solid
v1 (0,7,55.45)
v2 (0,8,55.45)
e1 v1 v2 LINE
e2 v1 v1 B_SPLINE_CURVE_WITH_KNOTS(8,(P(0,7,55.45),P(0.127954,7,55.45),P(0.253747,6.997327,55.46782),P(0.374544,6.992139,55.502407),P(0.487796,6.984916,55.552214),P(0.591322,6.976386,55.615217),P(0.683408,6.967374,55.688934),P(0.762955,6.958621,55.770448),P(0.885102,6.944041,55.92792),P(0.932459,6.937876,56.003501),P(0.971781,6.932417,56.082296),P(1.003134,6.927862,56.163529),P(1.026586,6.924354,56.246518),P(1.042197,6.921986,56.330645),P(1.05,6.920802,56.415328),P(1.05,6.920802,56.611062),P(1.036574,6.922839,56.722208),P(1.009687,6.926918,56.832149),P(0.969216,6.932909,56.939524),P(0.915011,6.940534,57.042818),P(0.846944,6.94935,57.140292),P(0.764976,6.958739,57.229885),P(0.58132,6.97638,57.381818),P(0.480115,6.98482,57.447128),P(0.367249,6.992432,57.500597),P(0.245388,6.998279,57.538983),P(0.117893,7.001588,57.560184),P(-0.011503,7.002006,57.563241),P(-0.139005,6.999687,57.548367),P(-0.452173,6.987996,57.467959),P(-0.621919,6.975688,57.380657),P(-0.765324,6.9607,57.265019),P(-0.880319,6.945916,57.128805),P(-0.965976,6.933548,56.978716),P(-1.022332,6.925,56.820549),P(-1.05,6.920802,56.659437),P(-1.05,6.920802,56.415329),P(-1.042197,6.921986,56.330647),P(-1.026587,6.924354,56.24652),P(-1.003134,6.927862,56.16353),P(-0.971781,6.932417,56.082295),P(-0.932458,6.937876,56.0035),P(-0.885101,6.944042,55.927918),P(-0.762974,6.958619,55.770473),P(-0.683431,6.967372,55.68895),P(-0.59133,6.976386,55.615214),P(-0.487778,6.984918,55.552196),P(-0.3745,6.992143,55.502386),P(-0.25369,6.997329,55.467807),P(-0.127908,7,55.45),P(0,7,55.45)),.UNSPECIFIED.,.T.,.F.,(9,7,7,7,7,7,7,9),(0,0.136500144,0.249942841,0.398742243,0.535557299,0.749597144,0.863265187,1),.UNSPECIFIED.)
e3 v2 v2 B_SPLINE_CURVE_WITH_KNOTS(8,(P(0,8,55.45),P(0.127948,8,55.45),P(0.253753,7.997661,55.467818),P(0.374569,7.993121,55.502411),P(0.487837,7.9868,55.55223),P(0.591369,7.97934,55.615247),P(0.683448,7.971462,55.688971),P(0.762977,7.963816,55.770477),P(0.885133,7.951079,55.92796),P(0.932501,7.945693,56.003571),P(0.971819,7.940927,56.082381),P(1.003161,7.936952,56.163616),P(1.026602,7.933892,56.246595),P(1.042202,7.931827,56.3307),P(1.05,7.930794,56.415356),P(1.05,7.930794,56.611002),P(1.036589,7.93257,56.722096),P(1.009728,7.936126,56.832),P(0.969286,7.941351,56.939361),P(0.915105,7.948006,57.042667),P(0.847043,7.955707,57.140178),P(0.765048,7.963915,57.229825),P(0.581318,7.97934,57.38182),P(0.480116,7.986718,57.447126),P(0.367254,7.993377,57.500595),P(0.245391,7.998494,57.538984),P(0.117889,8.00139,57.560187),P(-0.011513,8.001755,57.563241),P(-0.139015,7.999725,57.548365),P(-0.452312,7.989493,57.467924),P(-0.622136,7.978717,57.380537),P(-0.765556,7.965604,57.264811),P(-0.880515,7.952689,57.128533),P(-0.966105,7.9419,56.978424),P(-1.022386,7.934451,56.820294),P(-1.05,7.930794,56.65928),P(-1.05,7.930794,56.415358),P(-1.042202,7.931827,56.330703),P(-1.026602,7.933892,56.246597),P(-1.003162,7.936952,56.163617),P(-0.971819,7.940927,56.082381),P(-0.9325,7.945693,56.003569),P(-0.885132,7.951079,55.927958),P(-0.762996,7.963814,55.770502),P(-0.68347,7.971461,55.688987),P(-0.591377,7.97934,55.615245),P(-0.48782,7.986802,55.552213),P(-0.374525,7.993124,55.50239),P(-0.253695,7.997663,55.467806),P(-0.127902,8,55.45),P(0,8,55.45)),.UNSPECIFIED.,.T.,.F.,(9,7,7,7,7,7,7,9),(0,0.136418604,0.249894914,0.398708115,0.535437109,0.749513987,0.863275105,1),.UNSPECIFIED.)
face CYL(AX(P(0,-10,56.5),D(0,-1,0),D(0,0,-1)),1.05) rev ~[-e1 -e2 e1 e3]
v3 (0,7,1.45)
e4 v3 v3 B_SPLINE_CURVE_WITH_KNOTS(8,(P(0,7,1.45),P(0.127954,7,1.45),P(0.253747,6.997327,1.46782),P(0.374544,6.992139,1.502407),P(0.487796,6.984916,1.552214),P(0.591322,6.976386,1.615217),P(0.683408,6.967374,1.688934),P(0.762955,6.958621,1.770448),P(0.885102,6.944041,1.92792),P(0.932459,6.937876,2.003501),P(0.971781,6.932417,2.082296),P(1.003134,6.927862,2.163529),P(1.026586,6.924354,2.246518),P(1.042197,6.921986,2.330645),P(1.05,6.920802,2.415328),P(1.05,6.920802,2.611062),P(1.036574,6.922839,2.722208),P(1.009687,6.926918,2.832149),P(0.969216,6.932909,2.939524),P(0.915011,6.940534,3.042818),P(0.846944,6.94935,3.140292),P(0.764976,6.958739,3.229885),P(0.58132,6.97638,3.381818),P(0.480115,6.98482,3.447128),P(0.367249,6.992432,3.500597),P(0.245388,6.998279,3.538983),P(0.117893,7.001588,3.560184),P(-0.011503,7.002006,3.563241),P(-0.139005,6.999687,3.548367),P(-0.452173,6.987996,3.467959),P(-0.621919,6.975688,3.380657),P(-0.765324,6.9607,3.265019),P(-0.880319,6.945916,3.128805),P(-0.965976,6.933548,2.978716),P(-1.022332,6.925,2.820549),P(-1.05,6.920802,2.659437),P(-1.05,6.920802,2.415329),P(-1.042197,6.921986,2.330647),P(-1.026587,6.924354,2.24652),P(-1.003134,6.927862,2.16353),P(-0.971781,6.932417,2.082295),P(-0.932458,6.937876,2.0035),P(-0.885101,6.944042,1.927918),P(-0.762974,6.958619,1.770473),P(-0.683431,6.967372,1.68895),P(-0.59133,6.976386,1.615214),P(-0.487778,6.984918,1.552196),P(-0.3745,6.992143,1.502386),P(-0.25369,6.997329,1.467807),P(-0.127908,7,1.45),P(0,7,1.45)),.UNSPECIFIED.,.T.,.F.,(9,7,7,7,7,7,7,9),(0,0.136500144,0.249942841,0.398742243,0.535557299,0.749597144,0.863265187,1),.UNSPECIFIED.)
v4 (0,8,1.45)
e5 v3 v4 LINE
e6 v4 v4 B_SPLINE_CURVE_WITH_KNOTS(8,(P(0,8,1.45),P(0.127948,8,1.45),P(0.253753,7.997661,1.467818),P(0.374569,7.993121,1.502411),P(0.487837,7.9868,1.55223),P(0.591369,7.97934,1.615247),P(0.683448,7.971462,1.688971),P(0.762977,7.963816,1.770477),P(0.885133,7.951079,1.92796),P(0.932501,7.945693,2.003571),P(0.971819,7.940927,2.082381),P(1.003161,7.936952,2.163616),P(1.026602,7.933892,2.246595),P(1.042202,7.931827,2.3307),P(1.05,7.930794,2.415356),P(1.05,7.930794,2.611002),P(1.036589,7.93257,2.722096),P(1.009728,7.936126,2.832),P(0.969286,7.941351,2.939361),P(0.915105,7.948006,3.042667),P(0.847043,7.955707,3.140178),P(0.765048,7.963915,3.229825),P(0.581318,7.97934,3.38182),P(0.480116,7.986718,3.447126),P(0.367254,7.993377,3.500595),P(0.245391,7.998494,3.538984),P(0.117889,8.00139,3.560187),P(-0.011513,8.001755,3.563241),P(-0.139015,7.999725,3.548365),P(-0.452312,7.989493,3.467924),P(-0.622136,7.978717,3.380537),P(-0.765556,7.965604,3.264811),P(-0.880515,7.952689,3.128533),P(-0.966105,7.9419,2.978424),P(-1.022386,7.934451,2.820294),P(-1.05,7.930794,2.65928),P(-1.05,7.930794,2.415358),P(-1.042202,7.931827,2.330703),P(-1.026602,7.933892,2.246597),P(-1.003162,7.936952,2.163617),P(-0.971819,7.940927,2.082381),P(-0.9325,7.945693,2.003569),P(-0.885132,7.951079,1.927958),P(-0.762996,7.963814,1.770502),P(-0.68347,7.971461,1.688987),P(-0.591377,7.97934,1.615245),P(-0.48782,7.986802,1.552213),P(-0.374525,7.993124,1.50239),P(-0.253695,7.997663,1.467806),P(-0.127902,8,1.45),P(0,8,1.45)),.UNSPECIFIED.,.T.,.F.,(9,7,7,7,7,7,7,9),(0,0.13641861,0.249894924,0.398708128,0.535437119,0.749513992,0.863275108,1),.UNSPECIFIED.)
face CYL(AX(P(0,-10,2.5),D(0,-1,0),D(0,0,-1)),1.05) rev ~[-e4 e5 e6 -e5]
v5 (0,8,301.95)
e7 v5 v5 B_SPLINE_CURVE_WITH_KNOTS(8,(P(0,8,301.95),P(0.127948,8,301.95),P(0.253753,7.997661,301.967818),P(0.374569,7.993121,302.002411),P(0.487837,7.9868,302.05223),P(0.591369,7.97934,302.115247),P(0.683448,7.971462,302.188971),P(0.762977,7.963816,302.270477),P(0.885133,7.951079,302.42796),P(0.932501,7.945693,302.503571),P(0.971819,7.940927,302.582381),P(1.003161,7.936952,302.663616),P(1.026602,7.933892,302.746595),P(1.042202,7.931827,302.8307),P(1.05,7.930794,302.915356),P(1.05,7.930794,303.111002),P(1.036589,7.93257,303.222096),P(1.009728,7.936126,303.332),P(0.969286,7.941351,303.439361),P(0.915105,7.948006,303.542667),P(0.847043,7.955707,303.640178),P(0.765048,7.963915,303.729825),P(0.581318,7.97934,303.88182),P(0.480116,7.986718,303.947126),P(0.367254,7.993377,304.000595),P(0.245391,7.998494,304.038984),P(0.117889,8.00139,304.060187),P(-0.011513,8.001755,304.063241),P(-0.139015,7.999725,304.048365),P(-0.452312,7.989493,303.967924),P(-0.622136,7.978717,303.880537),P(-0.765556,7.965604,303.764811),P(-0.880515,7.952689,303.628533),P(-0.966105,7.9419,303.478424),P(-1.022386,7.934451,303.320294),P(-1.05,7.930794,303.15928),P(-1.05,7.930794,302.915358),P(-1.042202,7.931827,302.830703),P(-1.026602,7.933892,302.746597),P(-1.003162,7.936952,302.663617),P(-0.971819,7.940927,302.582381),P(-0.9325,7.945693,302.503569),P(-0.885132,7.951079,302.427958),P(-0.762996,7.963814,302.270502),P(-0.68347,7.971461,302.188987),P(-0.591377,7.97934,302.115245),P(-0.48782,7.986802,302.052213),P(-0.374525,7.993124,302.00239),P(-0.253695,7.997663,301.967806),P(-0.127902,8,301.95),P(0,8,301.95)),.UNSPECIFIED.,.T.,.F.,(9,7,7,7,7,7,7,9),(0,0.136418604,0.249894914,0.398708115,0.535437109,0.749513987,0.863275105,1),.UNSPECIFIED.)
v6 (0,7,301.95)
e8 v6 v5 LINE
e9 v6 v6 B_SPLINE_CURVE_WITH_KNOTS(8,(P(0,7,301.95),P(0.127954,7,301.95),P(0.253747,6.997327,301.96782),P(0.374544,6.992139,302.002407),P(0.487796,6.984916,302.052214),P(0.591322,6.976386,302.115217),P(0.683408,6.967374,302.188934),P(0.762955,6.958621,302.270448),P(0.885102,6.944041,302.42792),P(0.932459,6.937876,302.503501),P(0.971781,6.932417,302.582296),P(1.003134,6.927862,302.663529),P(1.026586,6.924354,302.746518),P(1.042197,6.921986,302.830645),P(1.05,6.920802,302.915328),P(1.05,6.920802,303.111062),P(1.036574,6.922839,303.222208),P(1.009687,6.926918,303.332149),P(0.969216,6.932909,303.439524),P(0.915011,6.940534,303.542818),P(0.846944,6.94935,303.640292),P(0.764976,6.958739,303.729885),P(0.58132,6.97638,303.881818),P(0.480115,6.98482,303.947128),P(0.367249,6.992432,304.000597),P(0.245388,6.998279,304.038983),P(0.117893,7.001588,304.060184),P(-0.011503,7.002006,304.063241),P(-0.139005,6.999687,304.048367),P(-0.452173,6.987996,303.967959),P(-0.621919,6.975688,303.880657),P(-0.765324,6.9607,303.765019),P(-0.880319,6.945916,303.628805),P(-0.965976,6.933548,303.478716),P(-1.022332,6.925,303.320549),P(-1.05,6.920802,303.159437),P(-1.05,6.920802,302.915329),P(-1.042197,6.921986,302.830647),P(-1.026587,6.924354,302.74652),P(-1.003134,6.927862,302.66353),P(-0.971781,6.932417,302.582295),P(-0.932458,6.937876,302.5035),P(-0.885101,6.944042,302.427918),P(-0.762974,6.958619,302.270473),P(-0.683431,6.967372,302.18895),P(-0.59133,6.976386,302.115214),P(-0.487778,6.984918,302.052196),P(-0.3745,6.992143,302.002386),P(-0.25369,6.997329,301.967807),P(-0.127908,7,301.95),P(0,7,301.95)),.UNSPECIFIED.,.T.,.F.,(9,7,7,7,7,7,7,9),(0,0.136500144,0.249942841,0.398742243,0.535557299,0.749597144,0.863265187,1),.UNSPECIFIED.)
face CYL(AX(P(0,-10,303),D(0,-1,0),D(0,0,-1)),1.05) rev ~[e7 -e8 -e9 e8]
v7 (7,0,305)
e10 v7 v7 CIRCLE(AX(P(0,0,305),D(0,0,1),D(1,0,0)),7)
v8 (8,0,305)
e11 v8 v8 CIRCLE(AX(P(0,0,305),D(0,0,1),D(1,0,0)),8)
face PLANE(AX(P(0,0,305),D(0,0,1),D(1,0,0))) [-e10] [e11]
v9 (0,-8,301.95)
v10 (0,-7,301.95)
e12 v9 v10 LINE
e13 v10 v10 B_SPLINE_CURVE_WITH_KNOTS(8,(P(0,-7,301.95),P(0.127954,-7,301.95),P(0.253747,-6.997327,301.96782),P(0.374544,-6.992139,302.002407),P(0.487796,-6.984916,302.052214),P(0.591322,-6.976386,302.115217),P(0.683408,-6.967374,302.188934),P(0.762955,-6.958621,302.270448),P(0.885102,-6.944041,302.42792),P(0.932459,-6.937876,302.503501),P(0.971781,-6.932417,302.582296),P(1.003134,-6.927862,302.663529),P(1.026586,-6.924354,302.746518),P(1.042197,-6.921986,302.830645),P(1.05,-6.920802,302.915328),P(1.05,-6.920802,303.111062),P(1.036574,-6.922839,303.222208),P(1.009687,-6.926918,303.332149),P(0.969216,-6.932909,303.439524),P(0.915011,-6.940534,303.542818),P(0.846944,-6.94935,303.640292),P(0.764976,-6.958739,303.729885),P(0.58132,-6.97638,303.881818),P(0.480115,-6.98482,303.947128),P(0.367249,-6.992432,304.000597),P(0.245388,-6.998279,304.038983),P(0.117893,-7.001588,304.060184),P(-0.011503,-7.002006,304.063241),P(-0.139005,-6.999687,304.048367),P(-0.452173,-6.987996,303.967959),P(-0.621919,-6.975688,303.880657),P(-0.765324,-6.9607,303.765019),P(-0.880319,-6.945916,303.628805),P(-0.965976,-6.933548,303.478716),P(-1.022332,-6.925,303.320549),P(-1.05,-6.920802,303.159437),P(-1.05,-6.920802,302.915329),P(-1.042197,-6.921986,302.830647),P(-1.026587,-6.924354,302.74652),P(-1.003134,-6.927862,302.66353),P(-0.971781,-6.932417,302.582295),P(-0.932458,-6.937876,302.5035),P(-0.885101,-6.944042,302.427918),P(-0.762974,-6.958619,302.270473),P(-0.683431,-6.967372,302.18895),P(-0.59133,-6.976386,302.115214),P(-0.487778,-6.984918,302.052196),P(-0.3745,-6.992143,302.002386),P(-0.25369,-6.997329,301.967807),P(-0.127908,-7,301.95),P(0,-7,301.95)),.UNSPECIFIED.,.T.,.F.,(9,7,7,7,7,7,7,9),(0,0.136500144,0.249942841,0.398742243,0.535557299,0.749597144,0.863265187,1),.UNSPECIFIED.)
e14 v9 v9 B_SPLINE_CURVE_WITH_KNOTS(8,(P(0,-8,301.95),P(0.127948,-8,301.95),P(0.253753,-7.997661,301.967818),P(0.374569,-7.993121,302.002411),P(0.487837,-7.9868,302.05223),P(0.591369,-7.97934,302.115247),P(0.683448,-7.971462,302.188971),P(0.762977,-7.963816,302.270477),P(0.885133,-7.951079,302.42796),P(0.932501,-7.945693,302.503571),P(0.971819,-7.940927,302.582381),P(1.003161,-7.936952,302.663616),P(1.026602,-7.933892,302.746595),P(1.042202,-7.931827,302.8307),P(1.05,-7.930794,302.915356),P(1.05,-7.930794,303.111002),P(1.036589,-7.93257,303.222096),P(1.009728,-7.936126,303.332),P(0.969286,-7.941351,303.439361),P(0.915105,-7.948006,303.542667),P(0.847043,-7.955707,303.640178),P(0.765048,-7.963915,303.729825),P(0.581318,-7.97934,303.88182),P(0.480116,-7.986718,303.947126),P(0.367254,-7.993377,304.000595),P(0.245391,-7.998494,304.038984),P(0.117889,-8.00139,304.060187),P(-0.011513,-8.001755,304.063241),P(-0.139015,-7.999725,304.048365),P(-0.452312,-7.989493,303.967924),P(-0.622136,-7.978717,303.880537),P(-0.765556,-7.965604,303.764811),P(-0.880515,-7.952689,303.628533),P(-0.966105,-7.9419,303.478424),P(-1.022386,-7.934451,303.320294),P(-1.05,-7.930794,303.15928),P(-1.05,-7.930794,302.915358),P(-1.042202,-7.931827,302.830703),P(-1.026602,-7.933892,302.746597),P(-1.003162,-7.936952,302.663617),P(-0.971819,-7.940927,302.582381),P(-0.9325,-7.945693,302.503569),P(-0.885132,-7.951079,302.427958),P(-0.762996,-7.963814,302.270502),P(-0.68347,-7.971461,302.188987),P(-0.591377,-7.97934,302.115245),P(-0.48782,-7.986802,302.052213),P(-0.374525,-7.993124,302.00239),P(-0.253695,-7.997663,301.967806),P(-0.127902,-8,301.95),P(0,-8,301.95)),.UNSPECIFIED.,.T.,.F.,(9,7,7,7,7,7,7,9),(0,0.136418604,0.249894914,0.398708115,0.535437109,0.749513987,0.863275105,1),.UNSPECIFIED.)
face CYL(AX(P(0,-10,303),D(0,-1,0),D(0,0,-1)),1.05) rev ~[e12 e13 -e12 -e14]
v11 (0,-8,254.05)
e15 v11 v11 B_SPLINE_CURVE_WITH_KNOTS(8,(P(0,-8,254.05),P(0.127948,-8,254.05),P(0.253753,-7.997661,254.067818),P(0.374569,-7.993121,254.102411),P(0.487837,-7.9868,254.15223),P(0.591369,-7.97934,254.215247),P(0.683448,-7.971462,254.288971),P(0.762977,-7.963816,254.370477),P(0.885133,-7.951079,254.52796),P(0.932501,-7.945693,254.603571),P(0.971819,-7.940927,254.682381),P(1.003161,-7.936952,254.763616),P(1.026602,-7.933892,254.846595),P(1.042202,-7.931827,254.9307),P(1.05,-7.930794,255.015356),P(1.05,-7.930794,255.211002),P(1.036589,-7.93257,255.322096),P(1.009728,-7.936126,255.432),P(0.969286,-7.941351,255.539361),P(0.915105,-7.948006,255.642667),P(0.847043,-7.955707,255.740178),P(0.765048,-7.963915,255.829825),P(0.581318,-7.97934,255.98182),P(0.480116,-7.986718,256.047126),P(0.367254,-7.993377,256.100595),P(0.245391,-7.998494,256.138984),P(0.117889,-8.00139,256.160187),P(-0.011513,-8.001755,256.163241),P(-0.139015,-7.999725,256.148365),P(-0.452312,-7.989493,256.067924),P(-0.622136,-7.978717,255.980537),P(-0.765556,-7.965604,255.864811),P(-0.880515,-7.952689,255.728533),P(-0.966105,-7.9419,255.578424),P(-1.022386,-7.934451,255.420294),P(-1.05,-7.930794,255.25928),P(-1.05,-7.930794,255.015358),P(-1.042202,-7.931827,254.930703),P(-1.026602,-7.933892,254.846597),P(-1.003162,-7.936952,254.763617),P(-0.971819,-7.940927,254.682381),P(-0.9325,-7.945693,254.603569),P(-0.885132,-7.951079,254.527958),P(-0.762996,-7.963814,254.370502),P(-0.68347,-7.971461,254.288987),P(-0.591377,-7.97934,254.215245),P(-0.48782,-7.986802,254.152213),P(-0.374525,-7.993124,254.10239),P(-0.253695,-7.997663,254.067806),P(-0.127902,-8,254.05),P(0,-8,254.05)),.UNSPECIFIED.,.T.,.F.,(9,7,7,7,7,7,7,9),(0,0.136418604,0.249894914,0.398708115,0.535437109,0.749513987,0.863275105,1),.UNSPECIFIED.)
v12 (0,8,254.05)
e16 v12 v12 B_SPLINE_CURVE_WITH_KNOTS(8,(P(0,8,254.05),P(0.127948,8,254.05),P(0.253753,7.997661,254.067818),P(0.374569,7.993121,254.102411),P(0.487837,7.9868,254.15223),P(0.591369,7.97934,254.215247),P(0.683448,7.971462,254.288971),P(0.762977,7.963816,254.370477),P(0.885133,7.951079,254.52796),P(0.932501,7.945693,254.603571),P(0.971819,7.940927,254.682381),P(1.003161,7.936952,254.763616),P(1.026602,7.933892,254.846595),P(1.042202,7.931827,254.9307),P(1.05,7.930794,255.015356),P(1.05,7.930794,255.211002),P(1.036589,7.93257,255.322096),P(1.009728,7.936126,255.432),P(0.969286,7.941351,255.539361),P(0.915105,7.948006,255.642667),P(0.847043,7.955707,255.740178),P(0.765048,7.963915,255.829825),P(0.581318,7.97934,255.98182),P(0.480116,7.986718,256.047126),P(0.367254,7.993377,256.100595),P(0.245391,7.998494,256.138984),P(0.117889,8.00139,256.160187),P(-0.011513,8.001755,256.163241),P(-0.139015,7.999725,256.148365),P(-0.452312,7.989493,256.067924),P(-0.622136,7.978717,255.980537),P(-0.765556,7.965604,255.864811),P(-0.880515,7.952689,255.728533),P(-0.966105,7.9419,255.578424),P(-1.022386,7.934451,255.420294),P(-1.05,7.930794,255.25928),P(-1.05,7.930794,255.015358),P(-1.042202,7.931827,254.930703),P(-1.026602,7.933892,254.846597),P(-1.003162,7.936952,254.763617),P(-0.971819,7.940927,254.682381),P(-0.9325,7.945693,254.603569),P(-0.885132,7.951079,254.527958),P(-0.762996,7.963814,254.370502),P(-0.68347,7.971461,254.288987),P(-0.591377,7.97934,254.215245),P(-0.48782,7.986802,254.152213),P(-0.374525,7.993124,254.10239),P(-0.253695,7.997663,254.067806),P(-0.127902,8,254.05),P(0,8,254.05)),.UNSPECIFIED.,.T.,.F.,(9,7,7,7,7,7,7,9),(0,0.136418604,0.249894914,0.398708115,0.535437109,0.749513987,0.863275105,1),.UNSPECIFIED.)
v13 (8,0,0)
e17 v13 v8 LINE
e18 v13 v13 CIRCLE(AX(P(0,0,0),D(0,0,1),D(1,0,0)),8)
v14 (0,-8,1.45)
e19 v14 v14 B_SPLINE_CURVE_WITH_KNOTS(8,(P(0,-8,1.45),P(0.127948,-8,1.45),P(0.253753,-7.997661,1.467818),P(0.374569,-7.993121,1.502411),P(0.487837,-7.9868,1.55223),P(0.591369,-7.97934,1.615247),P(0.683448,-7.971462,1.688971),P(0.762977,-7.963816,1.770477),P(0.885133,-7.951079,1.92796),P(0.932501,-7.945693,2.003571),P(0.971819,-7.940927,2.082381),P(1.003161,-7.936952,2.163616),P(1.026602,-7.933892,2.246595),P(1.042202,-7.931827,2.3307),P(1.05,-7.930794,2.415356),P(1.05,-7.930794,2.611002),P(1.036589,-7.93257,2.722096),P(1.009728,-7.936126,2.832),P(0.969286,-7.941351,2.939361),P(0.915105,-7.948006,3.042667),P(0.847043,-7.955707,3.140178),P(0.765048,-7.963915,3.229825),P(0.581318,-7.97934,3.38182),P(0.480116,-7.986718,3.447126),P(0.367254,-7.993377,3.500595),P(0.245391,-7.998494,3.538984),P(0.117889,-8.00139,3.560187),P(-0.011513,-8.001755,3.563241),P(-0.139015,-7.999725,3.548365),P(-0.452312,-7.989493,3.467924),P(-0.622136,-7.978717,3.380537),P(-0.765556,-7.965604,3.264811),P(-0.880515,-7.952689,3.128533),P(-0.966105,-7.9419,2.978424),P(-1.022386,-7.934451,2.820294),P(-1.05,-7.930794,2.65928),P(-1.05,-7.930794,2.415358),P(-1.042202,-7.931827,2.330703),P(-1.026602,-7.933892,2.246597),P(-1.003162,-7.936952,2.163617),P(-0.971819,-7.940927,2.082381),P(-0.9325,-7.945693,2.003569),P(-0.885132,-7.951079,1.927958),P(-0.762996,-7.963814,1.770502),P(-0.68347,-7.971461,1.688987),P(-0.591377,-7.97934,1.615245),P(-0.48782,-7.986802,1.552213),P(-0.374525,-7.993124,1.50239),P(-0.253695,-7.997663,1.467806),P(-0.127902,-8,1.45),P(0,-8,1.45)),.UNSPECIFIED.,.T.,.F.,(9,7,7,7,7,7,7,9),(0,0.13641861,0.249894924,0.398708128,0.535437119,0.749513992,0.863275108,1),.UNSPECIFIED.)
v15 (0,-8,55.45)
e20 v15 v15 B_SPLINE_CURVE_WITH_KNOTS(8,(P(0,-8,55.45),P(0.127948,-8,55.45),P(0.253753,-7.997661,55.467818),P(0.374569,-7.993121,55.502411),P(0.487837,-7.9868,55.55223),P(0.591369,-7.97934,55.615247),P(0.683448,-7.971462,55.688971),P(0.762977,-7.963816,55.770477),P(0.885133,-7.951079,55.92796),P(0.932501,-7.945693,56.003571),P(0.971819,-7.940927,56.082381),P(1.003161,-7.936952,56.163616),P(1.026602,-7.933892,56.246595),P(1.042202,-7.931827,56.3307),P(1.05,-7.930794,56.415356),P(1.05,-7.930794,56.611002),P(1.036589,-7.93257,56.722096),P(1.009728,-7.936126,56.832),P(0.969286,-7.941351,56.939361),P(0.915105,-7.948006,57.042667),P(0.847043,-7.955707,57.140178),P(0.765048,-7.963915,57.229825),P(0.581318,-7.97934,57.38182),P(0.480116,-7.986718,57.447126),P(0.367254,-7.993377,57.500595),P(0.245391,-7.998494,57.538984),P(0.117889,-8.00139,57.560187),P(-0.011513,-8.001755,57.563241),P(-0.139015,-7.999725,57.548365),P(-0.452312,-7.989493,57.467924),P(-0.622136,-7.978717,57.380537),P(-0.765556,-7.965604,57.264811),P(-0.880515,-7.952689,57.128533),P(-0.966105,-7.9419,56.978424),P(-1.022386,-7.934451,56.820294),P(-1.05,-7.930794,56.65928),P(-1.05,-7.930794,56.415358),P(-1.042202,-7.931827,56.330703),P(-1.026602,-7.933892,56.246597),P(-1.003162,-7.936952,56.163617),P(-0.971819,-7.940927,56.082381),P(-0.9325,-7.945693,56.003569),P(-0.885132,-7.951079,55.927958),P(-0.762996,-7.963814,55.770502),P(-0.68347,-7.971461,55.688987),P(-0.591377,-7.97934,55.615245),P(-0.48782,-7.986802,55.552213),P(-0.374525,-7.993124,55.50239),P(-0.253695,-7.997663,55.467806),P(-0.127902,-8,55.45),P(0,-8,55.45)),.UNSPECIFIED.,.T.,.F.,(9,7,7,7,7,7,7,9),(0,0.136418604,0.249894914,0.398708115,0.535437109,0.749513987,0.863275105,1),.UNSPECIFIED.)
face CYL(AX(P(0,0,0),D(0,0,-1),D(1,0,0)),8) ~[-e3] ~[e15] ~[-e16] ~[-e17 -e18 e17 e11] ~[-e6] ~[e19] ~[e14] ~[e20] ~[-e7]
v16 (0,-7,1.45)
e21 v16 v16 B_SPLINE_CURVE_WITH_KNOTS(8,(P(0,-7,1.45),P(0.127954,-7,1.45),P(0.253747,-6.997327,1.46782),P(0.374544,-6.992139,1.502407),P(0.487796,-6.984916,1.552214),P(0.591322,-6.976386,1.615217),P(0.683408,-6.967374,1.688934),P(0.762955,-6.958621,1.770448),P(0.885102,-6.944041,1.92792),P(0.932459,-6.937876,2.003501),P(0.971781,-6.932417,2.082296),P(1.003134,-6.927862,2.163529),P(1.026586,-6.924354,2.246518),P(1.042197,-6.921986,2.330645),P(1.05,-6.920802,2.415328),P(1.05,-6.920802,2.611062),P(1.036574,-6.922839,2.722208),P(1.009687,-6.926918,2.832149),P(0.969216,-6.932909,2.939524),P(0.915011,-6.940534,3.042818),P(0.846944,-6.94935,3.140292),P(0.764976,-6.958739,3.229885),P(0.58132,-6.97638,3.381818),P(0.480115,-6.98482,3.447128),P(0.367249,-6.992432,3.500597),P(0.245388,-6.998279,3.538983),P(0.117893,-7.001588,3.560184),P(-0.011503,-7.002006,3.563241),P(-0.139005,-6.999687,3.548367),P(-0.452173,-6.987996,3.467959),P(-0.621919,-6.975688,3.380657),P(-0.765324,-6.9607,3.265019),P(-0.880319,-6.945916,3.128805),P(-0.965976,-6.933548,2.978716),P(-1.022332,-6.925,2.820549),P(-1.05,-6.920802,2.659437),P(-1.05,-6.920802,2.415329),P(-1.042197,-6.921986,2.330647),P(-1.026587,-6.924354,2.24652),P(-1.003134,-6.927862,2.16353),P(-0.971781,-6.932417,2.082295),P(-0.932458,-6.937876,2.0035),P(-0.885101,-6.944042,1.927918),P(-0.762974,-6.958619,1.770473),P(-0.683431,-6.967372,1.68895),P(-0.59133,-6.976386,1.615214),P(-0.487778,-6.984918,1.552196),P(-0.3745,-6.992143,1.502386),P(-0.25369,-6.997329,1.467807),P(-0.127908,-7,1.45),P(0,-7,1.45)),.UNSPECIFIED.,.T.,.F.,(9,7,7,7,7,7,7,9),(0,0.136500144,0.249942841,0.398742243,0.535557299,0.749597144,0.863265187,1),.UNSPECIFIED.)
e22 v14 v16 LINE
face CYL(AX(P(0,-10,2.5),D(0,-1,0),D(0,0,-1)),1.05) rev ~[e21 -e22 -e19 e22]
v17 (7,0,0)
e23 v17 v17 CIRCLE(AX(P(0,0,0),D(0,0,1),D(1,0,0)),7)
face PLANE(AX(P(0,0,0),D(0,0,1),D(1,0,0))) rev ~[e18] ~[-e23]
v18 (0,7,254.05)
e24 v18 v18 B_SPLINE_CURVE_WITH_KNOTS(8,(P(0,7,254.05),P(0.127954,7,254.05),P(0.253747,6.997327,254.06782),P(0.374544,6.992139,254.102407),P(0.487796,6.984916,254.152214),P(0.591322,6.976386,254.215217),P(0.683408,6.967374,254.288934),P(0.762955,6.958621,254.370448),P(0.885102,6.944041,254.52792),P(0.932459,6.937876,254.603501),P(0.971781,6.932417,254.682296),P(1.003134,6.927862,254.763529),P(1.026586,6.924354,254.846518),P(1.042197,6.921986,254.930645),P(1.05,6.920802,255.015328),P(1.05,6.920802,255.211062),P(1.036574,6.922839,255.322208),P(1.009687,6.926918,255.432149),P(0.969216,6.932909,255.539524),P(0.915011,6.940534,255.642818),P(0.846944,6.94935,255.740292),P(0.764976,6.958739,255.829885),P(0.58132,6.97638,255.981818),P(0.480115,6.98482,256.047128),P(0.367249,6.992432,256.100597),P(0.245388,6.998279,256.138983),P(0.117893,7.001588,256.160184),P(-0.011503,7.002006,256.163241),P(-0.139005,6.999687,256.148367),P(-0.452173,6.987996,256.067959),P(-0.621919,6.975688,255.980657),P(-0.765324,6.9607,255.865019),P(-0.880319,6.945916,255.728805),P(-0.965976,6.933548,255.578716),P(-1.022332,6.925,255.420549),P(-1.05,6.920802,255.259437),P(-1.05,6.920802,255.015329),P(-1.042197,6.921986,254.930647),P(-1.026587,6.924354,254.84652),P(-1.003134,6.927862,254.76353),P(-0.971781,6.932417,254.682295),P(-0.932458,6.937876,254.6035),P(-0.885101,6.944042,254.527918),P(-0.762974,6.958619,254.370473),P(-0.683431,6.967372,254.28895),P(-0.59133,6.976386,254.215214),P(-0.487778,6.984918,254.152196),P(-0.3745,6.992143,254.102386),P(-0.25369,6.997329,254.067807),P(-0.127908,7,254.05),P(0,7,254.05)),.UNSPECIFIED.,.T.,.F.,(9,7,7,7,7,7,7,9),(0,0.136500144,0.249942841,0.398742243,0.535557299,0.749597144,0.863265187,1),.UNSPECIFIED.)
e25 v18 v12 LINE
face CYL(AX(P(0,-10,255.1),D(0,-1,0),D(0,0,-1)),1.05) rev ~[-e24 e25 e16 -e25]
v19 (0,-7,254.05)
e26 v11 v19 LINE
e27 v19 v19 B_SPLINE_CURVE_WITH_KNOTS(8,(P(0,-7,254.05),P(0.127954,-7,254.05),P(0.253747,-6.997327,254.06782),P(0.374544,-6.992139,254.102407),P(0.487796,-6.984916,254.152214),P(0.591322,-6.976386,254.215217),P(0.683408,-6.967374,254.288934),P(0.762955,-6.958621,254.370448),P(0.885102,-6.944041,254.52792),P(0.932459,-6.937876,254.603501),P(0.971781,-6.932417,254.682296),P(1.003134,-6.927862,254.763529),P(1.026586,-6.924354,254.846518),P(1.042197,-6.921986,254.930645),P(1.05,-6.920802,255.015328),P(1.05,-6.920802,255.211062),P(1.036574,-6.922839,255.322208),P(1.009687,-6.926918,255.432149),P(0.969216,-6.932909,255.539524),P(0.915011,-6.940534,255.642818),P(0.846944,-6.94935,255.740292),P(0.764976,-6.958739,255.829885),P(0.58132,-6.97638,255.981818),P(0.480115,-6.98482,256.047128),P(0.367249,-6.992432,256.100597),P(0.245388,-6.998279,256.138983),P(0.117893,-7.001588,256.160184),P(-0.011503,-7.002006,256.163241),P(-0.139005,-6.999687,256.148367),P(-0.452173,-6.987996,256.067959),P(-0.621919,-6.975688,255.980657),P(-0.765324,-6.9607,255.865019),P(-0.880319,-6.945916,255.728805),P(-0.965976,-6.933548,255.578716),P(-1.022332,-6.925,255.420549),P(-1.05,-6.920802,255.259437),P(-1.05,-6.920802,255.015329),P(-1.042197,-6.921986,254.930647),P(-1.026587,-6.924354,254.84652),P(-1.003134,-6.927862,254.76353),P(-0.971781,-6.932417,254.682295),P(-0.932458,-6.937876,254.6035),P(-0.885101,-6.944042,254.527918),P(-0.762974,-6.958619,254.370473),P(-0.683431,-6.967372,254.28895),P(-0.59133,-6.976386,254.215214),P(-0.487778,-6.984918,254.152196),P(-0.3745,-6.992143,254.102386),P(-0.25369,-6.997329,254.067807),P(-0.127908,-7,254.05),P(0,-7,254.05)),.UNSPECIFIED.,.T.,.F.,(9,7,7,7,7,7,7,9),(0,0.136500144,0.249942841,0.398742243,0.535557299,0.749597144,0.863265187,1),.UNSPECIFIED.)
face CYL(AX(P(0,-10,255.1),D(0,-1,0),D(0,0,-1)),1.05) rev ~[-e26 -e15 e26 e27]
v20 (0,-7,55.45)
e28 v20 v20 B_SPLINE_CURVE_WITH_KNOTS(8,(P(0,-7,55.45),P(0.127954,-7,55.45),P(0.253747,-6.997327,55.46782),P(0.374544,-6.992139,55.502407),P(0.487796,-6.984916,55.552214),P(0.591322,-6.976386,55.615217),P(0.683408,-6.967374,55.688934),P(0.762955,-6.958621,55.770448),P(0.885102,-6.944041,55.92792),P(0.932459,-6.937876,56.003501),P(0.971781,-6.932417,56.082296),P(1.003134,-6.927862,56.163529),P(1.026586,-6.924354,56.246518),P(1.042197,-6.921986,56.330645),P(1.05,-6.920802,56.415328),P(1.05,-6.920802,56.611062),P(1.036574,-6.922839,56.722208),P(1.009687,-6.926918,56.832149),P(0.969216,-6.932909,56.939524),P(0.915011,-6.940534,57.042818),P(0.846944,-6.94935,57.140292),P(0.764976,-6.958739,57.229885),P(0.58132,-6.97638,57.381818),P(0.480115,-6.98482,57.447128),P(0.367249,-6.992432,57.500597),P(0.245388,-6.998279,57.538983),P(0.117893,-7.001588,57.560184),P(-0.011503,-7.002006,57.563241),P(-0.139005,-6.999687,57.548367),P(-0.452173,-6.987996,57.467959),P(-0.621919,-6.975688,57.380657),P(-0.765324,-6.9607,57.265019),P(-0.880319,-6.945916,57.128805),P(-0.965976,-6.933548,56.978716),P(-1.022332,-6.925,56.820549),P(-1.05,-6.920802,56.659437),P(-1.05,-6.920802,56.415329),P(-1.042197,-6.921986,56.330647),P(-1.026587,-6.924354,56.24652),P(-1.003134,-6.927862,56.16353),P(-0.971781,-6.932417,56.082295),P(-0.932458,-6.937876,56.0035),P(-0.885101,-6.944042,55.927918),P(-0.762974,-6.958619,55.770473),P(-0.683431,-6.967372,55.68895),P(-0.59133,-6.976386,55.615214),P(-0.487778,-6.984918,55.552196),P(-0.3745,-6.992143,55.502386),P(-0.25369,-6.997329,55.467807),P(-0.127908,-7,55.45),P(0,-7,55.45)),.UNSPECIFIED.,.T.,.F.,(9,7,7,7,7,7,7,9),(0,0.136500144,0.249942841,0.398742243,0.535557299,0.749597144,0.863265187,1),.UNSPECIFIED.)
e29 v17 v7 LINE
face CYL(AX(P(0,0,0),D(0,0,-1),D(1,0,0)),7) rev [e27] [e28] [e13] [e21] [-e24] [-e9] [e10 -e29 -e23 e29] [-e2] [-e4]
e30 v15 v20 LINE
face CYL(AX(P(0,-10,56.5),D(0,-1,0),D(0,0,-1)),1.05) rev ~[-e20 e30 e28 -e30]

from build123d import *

# Parameters (mm, degrees)
SKETCH1_R           = 8
SKETCH1_R_2         = 7
BOSS_EXTRUDE1_DEPTH = 305
SKETCH2_R           = 1.05
CUT_EXTRUDE2_DEPTH  = 20


with BuildPart() as part:
    # Sketch1 → Boss-Extrude1 (new body)
    with BuildSketch(Plane.XY):
        Circle(SKETCH1_R)
        Circle(SKETCH1_R_2, mode=Mode.SUBTRACT)
    extrude(amount=BOSS_EXTRUDE1_DEPTH)

    # Sketch2 → Cut-Extrude2 (cut)
    with BuildSketch(Plane.XZ.offset(10)):
        with Locations(Location((0, 2.5, 0), (0, 0, 270))):
            Circle(SKETCH2_R)
        with Locations(Location((0, 56.5, 0), (0, 0, 270))):
            Circle(SKETCH2_R)
        with Locations(Location((0, 255.1, 0), (0, 0, 270))):
            Circle(SKETCH2_R)
        with Locations(Location((0, 303, 0), (0, 0, 270))):
            Circle(SKETCH2_R)
    extrude(amount=-CUT_EXTRUDE2_DEPTH, mode=Mode.SUBTRACT)


solid = part.part
